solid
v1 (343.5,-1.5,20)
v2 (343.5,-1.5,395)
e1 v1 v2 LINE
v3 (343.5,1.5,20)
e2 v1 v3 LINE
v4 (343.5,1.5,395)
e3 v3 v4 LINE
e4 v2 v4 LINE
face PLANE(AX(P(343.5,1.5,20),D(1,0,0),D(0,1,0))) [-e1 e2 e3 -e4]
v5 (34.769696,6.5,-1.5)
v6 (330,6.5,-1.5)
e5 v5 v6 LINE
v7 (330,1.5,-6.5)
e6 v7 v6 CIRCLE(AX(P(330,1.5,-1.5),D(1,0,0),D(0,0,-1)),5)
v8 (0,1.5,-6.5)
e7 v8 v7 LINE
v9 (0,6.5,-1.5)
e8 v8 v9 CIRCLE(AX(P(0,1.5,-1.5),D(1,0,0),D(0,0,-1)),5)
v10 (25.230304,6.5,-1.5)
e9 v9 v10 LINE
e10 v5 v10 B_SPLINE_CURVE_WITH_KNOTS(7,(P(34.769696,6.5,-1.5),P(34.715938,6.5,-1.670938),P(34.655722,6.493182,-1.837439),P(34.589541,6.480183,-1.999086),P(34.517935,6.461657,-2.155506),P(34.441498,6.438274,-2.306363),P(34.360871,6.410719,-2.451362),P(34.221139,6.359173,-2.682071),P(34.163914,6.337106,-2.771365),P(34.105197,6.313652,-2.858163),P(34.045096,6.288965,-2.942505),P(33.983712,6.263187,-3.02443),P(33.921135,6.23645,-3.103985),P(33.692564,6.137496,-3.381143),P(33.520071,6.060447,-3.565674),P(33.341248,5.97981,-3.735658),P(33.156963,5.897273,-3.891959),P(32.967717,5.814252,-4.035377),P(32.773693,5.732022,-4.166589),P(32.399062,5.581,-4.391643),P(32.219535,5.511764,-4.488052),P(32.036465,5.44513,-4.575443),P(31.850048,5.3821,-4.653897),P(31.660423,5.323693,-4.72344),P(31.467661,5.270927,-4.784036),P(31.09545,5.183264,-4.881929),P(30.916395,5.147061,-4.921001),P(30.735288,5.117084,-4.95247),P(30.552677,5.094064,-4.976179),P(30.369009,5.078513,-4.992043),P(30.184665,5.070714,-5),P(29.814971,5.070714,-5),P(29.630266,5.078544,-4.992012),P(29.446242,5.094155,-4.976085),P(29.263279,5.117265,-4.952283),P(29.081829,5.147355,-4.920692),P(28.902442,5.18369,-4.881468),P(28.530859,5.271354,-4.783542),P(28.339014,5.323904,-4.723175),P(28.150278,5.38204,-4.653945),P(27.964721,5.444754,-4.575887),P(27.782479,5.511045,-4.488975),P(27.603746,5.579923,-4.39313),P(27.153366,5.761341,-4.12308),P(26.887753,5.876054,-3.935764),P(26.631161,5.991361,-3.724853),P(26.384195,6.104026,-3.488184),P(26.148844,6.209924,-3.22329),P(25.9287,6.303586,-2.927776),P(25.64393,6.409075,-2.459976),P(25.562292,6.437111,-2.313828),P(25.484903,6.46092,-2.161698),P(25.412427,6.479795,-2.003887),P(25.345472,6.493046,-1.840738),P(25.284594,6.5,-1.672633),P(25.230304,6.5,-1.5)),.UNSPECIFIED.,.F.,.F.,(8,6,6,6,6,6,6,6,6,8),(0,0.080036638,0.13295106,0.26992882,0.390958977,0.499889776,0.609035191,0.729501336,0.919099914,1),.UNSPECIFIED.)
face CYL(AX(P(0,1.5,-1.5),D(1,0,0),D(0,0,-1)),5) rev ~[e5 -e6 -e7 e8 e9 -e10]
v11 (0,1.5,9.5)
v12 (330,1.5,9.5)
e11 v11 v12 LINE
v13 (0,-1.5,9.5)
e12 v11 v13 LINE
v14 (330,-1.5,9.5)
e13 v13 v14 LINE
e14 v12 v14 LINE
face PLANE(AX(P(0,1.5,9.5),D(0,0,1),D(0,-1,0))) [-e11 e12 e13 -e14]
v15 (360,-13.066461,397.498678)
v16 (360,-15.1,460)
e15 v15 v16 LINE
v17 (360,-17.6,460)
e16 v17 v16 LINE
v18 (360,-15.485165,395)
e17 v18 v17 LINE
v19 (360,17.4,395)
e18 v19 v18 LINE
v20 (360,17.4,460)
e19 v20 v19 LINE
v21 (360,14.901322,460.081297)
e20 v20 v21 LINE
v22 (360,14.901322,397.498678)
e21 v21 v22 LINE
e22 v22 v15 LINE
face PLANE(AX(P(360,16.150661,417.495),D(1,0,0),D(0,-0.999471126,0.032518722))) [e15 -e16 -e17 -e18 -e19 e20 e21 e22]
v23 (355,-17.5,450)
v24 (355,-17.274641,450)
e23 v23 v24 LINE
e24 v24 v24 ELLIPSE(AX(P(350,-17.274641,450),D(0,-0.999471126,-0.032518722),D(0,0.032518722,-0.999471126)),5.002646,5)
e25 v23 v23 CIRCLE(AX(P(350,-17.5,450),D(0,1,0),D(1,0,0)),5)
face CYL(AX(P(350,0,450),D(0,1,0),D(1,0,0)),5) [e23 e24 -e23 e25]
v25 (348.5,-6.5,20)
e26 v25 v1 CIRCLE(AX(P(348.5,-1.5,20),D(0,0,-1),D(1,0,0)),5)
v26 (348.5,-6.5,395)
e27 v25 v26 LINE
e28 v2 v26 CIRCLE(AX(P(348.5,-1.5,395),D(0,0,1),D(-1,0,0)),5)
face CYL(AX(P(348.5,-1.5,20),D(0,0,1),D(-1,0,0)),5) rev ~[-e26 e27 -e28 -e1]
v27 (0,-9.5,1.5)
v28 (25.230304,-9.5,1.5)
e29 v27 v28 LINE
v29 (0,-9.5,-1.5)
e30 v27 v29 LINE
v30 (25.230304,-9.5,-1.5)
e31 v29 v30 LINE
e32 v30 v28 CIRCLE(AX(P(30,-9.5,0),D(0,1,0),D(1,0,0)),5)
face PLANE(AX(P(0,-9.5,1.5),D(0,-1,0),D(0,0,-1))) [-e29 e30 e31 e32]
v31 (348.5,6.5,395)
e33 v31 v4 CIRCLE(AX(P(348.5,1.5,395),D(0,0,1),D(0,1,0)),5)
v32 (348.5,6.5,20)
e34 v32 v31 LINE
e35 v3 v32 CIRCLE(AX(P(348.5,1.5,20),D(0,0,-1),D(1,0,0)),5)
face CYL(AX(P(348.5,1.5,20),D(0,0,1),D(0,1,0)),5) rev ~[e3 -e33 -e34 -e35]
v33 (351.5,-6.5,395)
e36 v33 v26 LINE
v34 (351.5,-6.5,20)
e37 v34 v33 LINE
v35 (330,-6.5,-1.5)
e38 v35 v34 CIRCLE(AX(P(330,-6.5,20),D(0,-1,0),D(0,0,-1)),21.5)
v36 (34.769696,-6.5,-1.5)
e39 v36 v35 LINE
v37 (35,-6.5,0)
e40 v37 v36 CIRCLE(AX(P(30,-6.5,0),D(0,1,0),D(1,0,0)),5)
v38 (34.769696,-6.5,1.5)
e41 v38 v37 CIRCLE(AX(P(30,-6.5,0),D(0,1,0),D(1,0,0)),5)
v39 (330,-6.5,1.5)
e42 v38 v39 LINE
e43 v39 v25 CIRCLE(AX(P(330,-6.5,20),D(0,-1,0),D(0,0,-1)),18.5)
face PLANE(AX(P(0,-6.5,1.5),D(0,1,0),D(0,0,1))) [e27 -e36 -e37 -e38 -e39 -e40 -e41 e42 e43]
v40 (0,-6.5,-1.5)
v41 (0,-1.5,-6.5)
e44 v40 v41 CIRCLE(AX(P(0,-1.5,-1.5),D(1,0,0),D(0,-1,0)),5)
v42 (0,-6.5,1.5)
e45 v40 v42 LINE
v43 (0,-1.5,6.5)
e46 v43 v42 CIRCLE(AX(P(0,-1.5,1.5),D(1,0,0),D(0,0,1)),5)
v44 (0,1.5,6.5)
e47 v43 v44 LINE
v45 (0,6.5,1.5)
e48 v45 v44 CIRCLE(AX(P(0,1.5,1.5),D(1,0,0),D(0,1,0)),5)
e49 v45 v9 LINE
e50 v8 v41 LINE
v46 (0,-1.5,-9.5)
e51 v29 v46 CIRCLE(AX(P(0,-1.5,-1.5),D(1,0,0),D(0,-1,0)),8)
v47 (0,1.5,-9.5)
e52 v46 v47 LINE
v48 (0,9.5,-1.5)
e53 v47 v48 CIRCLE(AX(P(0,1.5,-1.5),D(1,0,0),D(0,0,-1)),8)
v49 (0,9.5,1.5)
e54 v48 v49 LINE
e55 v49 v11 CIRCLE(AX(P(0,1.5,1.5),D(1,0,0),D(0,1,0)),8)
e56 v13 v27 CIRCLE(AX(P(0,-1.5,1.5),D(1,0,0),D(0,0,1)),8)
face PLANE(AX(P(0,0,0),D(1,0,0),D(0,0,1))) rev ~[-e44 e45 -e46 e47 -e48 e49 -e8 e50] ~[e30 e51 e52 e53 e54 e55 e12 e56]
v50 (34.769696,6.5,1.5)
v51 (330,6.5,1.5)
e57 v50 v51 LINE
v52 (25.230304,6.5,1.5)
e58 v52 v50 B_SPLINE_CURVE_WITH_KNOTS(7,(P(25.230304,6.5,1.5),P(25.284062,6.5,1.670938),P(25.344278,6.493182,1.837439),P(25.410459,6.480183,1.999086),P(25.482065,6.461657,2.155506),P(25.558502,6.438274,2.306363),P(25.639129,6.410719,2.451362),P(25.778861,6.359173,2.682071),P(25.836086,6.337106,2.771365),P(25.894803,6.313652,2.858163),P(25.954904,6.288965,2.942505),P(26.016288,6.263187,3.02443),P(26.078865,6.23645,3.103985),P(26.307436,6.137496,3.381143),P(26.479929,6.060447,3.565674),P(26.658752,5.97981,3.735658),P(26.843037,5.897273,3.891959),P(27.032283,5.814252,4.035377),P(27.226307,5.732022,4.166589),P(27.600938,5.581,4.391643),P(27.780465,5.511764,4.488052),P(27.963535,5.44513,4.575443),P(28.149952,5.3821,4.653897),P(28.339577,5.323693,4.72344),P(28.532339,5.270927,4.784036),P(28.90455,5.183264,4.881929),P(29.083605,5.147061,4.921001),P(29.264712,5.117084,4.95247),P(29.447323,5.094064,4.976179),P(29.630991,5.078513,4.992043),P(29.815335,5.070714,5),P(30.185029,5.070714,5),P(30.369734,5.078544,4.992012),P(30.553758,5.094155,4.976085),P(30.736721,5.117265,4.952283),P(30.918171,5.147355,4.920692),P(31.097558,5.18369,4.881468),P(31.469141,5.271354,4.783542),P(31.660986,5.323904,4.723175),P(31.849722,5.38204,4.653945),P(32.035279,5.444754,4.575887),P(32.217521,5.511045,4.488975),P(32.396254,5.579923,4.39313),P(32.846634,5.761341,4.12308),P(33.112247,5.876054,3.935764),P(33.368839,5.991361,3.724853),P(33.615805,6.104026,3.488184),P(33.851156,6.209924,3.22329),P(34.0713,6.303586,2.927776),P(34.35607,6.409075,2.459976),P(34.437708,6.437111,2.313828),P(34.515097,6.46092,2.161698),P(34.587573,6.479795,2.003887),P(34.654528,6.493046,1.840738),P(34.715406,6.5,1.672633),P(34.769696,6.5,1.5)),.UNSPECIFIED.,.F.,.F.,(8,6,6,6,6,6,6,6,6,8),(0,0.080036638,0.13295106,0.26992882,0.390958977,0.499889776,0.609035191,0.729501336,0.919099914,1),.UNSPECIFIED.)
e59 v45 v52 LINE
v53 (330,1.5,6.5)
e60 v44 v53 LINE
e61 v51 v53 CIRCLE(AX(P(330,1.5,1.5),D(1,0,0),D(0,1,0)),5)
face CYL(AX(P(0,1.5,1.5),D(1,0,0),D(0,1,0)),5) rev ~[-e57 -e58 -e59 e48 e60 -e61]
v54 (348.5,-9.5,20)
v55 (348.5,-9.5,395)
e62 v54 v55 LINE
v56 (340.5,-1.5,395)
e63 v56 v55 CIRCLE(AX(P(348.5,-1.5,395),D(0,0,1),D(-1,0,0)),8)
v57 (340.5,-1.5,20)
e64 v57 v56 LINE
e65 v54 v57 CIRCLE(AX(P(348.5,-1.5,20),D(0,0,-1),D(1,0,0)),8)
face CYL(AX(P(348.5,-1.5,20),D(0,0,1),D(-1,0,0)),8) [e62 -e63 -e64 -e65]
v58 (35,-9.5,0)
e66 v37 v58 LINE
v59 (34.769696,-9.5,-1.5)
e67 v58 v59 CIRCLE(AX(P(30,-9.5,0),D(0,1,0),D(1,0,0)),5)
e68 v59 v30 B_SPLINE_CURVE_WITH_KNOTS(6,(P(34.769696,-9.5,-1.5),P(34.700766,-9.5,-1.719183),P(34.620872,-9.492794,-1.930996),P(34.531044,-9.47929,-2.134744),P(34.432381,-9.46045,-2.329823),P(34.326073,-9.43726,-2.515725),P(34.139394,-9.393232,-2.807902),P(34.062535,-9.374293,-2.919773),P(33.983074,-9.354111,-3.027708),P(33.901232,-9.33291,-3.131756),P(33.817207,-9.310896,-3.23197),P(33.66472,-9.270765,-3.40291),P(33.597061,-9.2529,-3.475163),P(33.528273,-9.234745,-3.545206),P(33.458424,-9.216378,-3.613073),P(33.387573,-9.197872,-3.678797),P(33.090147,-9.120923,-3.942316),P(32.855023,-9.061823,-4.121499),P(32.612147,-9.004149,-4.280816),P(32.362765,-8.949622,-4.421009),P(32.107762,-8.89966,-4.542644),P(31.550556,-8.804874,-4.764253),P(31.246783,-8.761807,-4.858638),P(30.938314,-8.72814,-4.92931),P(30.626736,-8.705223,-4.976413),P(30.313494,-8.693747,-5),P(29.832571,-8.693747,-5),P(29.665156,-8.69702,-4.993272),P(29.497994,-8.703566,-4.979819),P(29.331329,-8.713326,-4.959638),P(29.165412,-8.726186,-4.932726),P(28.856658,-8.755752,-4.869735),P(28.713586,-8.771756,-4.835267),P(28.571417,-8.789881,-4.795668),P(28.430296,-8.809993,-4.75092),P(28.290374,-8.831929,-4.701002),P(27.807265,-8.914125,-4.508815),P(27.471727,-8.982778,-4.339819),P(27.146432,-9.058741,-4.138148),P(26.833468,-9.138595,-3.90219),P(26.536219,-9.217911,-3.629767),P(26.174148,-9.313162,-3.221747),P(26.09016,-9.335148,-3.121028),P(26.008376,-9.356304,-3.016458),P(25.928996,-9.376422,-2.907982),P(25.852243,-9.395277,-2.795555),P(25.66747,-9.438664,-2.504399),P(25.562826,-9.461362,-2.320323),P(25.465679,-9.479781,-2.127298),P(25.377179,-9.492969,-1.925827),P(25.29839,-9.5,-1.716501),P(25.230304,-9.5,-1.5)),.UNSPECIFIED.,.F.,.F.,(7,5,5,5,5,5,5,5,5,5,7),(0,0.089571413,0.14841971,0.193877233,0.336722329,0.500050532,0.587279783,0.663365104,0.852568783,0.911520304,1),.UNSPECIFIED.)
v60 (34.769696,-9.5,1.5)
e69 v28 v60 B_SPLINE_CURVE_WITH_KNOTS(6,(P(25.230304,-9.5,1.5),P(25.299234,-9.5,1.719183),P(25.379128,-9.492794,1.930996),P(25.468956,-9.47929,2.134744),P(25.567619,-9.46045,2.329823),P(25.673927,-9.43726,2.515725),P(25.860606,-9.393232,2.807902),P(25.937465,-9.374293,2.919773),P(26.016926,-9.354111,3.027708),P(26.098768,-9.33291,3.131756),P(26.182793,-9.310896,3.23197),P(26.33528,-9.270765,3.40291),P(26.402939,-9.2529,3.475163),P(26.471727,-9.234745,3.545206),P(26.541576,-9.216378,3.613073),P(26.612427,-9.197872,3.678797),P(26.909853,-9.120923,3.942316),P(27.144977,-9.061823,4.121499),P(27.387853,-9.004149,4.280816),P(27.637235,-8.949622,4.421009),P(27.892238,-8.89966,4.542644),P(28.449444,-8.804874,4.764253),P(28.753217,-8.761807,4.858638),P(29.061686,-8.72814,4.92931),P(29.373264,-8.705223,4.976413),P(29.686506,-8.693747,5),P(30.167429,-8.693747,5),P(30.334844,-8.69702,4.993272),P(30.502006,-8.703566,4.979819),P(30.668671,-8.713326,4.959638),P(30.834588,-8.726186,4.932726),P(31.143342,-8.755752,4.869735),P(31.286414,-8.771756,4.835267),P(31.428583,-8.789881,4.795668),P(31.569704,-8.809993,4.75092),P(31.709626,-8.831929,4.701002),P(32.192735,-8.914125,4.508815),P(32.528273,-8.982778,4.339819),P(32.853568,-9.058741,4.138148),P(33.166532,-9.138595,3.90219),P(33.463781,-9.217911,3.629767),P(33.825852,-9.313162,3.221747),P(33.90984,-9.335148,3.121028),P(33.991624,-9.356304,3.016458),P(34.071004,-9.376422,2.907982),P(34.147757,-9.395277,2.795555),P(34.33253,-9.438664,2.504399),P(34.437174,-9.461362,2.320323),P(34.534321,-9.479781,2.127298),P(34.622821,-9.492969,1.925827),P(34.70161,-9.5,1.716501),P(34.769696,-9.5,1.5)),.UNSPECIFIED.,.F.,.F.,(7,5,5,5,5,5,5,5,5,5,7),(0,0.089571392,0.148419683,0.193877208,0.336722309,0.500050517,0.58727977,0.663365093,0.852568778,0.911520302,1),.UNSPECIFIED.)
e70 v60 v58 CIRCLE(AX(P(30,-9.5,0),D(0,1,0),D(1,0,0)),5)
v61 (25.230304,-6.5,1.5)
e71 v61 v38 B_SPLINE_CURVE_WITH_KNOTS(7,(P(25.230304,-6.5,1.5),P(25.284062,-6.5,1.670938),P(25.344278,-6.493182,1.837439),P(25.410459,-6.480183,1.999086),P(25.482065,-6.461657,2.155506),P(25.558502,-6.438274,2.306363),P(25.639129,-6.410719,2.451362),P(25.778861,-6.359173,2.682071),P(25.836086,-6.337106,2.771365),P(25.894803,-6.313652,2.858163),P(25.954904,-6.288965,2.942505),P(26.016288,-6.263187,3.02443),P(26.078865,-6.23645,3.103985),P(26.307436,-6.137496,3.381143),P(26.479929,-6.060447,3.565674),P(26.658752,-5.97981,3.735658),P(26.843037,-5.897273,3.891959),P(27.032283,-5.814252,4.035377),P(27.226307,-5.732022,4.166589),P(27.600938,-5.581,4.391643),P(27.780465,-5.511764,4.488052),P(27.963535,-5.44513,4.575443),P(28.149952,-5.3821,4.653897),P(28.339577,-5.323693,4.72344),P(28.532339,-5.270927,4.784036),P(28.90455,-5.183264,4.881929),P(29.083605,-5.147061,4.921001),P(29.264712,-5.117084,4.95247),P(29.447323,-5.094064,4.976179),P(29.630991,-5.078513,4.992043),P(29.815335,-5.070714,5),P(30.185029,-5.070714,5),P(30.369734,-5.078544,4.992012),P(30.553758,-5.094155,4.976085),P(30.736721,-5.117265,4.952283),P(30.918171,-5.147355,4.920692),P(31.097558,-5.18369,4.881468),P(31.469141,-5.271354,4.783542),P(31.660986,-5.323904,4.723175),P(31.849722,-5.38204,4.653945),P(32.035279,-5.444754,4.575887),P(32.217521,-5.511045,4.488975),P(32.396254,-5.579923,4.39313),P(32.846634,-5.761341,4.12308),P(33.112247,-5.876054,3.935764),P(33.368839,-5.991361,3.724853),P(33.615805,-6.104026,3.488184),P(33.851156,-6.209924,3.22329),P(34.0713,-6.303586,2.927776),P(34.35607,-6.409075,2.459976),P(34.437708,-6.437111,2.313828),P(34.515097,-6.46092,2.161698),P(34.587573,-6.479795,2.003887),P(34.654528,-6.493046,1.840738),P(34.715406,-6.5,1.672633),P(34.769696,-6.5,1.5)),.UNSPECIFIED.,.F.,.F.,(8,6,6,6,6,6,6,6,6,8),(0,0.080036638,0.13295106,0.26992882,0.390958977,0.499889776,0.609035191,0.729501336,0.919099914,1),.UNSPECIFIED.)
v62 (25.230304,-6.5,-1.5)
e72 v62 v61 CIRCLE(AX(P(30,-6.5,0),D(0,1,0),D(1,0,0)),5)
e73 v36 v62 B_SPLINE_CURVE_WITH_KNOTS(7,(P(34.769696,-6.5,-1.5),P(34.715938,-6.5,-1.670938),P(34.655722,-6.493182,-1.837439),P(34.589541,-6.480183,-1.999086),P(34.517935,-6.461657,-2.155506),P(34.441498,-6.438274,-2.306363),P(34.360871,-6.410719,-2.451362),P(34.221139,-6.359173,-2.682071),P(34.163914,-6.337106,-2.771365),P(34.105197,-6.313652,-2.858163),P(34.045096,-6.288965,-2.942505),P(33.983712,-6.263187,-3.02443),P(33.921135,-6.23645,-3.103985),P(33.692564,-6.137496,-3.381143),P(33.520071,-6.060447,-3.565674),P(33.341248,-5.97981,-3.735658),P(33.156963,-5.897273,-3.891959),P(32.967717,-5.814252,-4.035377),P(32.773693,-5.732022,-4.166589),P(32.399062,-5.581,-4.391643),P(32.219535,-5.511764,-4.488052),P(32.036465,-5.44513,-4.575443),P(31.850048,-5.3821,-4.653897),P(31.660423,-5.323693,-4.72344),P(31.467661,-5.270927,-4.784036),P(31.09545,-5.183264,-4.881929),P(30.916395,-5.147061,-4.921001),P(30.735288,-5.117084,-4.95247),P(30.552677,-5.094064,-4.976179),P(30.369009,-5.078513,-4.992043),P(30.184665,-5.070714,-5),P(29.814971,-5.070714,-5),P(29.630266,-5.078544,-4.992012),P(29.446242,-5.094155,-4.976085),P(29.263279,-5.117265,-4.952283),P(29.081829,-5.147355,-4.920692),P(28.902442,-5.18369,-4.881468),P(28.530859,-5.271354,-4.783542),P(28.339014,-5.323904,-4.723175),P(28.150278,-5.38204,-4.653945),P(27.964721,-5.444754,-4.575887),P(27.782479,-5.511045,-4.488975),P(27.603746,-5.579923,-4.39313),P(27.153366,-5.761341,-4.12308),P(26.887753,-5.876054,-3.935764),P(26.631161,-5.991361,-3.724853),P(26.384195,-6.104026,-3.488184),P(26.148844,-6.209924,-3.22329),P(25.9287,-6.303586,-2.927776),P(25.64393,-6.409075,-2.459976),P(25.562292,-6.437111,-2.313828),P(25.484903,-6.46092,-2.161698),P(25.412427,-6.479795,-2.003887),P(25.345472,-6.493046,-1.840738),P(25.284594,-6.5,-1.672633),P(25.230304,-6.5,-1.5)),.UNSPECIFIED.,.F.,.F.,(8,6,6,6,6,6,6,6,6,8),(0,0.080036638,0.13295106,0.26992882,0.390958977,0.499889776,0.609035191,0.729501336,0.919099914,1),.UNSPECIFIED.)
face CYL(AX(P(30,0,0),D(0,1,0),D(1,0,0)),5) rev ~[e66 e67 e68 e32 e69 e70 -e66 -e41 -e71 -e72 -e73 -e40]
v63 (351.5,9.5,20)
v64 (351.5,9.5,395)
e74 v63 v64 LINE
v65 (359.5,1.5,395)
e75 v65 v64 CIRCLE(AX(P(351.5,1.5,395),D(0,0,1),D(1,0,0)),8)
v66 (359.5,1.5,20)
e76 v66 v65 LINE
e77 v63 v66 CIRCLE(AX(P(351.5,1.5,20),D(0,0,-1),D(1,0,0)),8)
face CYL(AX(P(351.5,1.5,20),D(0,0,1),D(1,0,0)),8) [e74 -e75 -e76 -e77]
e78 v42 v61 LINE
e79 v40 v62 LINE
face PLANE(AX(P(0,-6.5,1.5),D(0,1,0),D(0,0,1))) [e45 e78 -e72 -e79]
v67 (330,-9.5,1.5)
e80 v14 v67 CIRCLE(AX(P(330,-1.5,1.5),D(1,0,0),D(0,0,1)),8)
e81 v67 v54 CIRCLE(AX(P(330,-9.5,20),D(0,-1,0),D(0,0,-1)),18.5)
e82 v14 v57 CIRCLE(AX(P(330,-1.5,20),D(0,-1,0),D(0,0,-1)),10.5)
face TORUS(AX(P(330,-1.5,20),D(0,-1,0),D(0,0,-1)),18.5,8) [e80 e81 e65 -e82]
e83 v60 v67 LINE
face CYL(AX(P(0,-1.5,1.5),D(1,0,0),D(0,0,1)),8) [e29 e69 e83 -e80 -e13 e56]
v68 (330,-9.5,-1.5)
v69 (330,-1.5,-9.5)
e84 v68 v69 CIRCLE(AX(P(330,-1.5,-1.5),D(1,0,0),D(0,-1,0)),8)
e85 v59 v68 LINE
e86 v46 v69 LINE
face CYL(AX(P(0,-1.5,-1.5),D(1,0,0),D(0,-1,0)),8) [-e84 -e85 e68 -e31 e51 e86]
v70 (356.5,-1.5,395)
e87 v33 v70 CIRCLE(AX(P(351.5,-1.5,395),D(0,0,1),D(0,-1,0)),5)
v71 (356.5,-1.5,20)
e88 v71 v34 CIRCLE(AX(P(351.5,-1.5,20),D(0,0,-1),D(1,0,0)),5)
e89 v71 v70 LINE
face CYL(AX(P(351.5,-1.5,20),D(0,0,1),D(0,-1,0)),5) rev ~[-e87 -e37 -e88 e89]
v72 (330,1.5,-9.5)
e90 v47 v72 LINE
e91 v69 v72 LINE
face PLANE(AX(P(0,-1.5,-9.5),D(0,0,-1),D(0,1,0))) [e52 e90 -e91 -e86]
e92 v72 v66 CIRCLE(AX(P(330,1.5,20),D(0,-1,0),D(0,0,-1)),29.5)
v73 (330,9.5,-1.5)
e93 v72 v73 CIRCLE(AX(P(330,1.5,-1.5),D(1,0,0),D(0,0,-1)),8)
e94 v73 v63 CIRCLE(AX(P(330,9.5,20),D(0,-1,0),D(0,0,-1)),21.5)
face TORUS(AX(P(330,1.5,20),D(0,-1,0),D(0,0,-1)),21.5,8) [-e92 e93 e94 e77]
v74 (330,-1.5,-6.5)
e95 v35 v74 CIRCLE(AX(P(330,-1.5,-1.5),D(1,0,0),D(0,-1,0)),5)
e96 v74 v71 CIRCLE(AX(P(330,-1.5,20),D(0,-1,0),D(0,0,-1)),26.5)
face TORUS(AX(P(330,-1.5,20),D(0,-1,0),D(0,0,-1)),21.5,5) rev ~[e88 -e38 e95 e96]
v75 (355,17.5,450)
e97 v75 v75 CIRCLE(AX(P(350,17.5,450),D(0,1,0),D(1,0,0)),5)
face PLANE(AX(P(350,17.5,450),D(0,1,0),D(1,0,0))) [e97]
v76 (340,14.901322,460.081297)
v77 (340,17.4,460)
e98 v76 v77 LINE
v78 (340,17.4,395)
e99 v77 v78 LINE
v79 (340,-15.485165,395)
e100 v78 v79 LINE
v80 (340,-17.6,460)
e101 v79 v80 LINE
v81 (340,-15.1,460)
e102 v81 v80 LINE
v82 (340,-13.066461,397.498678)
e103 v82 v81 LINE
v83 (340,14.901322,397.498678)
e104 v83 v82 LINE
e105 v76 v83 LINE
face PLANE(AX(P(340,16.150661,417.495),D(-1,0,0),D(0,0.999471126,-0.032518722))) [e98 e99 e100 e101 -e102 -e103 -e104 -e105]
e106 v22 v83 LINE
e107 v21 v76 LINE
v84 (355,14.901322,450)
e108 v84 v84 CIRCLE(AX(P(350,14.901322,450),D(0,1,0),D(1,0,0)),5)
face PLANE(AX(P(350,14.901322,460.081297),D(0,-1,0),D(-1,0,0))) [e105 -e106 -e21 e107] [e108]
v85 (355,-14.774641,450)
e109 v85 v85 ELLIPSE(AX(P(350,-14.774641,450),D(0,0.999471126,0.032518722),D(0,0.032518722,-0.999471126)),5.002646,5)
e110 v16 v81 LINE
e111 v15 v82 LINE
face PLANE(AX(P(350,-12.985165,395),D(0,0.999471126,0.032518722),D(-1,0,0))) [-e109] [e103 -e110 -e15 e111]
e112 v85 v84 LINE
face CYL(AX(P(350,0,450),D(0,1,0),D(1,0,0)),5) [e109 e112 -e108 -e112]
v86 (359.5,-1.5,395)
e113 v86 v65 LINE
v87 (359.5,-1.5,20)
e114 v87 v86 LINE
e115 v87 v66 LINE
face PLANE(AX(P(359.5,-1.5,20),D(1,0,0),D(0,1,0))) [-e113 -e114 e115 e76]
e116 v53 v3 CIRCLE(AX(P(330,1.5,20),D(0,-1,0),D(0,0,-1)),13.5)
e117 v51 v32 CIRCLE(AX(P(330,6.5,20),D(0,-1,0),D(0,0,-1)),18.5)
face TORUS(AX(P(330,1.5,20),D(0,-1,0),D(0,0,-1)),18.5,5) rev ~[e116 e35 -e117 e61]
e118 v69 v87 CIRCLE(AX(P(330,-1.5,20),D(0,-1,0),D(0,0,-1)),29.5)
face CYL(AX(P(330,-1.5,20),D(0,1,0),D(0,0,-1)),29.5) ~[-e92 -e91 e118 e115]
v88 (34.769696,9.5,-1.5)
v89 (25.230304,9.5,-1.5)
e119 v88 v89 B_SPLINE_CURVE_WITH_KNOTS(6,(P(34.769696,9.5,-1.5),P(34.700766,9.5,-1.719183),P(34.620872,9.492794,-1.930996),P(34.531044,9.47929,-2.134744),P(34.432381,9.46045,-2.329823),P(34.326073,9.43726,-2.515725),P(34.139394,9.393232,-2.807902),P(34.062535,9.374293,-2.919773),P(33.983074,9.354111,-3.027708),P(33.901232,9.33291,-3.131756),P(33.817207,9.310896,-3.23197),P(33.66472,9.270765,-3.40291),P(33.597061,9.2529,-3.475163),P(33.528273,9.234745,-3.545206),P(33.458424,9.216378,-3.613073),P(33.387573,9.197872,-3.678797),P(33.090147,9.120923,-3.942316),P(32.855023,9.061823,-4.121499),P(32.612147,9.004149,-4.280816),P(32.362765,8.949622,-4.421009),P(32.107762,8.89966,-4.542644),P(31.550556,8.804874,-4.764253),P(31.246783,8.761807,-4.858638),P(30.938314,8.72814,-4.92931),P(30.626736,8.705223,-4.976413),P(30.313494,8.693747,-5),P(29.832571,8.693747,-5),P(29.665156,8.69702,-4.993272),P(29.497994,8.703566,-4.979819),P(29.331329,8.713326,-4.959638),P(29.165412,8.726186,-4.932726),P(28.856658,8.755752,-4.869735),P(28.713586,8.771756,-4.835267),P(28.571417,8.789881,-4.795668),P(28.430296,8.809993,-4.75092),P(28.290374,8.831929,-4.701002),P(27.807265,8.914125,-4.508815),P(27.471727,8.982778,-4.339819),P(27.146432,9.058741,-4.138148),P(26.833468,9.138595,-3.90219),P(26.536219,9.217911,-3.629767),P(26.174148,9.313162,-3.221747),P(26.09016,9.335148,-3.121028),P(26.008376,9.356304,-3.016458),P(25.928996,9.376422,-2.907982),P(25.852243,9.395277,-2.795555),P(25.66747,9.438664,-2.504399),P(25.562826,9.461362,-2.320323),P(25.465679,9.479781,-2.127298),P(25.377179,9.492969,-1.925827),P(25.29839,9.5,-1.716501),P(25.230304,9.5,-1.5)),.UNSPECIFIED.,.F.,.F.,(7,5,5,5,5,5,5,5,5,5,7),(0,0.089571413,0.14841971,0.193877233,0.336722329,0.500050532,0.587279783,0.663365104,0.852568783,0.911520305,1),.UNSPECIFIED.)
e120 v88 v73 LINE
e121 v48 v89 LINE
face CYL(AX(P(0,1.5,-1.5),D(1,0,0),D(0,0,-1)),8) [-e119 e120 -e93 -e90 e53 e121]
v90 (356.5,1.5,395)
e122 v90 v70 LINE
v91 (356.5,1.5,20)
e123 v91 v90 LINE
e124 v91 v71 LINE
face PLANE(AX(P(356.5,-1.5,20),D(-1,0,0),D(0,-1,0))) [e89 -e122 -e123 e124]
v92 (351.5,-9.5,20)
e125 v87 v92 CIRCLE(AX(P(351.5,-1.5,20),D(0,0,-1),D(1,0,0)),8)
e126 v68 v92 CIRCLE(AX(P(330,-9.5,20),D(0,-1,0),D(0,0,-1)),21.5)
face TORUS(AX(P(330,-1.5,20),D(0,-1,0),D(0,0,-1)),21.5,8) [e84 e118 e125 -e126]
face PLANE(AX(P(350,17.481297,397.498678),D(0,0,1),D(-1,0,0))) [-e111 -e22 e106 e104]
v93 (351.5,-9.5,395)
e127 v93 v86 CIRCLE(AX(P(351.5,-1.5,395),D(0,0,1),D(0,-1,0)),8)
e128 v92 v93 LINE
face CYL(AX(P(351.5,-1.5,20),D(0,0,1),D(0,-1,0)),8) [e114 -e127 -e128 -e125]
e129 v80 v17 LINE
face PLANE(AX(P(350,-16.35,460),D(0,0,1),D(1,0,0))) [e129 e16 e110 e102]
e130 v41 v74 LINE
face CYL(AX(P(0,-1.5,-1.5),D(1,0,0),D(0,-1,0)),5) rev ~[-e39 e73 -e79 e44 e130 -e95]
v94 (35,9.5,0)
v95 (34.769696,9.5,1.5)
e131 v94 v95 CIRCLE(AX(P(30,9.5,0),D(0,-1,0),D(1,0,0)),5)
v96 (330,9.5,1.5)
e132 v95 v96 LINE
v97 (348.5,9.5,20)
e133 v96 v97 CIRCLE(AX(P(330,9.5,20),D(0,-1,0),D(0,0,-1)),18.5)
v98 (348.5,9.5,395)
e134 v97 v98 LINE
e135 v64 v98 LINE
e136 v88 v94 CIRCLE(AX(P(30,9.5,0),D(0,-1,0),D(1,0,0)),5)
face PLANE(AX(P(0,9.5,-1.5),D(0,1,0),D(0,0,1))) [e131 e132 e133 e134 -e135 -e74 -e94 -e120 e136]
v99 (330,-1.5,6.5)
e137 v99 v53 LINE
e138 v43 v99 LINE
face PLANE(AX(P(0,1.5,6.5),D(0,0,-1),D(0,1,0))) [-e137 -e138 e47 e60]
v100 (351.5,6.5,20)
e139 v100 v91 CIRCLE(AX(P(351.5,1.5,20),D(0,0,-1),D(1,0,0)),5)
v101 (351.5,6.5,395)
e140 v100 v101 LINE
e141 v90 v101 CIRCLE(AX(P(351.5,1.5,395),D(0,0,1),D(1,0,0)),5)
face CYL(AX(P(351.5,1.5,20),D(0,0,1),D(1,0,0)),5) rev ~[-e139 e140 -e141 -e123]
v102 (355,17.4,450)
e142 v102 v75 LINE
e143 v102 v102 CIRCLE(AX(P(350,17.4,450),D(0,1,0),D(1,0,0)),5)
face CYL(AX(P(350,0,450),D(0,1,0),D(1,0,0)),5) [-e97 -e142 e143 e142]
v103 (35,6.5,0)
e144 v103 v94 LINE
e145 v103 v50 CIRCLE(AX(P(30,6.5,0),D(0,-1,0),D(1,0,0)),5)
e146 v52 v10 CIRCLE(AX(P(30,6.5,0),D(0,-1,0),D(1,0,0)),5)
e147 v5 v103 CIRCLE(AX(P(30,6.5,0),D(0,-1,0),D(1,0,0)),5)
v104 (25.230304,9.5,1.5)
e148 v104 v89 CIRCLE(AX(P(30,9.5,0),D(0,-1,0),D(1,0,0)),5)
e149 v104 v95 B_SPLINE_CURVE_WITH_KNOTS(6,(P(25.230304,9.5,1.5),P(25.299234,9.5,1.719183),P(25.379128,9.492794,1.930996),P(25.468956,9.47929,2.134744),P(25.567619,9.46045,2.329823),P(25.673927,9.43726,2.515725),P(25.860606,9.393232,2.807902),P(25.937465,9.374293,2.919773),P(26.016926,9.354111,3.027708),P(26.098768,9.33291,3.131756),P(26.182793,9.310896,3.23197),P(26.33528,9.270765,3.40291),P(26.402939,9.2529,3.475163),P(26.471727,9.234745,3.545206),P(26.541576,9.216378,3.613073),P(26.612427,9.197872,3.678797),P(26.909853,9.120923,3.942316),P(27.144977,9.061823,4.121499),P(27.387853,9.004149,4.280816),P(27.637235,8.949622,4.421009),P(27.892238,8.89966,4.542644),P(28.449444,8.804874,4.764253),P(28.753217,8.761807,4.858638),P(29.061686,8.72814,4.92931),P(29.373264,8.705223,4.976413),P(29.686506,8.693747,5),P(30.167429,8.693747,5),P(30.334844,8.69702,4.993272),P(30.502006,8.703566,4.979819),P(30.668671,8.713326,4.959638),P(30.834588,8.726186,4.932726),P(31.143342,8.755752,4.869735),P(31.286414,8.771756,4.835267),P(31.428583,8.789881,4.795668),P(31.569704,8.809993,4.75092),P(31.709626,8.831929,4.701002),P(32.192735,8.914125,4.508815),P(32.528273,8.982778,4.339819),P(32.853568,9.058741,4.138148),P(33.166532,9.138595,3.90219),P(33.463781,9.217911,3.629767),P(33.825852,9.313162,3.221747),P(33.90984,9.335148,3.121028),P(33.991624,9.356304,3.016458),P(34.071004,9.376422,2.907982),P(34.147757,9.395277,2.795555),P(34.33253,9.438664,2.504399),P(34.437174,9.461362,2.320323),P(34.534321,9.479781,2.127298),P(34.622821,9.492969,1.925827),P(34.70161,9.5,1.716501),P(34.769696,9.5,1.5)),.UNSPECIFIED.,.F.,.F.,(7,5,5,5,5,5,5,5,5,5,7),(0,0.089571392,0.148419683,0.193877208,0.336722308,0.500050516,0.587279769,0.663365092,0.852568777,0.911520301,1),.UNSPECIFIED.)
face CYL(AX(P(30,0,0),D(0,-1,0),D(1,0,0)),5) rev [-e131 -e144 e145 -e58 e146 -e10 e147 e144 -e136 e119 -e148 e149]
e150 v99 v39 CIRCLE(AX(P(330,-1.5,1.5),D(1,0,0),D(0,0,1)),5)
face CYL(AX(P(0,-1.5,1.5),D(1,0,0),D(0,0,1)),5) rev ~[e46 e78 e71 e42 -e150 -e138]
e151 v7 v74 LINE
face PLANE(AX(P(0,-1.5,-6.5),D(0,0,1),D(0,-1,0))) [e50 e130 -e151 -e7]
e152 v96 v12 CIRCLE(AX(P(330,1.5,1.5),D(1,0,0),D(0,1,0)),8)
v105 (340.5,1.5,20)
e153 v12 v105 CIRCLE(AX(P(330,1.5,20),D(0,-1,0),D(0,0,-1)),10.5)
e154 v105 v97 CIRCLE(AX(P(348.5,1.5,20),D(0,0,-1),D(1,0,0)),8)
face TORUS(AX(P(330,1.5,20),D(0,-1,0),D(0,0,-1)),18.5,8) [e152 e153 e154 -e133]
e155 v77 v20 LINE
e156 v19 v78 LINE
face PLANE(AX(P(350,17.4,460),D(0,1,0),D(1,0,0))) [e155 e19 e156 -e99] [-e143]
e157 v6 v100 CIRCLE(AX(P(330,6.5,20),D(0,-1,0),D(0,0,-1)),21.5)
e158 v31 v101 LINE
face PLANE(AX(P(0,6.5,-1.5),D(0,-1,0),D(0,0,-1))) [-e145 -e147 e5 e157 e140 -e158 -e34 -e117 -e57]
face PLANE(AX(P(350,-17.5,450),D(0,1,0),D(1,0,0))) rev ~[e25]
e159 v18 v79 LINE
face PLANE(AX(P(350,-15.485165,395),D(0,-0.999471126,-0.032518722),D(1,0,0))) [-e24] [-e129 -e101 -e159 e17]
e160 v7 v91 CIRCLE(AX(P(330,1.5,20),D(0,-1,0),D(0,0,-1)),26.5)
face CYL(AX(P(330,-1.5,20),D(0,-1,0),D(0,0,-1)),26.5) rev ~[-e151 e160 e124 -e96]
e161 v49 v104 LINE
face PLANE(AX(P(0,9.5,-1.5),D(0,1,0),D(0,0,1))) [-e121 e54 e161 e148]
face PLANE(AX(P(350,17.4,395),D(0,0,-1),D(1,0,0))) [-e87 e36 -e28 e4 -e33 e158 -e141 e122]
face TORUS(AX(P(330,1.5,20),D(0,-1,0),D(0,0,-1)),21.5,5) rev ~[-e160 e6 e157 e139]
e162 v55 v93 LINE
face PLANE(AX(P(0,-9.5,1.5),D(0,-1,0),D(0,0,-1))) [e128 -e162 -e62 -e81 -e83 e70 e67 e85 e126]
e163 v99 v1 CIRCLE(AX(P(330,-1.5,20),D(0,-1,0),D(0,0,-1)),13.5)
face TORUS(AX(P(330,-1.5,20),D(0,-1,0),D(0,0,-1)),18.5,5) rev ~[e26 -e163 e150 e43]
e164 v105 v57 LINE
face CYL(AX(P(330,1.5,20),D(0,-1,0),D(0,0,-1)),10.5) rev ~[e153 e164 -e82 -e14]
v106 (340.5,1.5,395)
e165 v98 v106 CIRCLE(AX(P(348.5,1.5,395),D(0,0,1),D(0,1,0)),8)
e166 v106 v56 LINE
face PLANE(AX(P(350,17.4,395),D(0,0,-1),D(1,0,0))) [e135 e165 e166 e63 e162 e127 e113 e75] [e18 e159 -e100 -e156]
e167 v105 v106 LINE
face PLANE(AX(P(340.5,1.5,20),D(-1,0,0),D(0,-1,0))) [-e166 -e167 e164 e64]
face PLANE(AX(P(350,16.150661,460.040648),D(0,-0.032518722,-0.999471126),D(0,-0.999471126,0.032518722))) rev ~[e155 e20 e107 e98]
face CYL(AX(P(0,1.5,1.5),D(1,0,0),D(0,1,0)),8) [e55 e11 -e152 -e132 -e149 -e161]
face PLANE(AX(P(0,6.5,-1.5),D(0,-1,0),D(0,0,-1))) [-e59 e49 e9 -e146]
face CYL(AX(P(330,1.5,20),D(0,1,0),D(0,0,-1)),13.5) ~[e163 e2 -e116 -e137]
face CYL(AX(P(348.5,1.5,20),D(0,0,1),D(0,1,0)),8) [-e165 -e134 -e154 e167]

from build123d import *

# Parameters (mm, degrees)
SKETCH4_R                = 5
BOSS_EXTRUDE2_DEPTH      = 17.5
BOSS_EXTRUDE2_DEPTH_BACK = 17.5
SKETCH7_W                = 20
SKETCH7_H                = 2.5
SKETCH8_R                = 5
CUT_EXTRUDE1_DEPTH       = 18.5
CUT_EXTRUDE1_DEPTH_BACK  = 18.6


with BuildPart() as part:
    # Sweep-Thin1: sweep along a path in Sketch1
    with BuildLine(Plane(origin=(0, 0, 0), x_dir=(1, 0, 0), z_dir=(0, 1, 0))) as sweep_thin1_path:
        Line((0, 0), (330, 0))
        ThreePointArc((330, 0), (344.142135624, -5.857864376), (350, -20))
        Line((350, -20), (350, -395))
    # Sketch2 → Sweep-Thin1 (sweep)
    with BuildSketch(Plane(origin=(0, 0, 0), x_dir=(0, 0, -1), z_dir=(1, 0, 0))):
        with BuildLine():
            Line((1.5, 9.5), (-1.5, 9.5))
            ThreePointArc((-1.5, 9.5), (-7.156854249, 7.156854249), (-9.5, 1.5))
            Line((-9.5, 1.5), (-9.5, -1.5))
            ThreePointArc((-9.5, -1.5), (-7.156854249, -7.156854249), (-1.5, -9.5))
            Line((-1.5, -9.5), (1.5, -9.5))
            ThreePointArc((1.5, -9.5), (7.156854249, -7.156854249), (9.5, -1.5))
            Line((9.5, -1.5), (9.5, 1.5))
            ThreePointArc((9.5, 1.5), (7.156854249, 7.156854249), (1.5, 9.5))
        make_face()
        with BuildLine():
            Line((1.5, 6.5), (-1.5, 6.5))
            ThreePointArc((-1.5, 6.5), (-5.035533906, 5.035533906), (-6.5, 1.5))
            Line((-6.5, 1.5), (-6.5, -1.5))
            ThreePointArc((-6.5, -1.5), (-5.035533906, -5.035533906), (-1.5, -6.5))
            Line((-1.5, -6.5), (1.5, -6.5))
            ThreePointArc((1.5, -6.5), (5.035533906, -5.035533906), (6.5, -1.5))
            Line((6.5, -1.5), (6.5, 1.5))
            ThreePointArc((6.5, 1.5), (5.035533906, 5.035533906), (1.5, 6.5))
        make_face(mode=Mode.SUBTRACT)
    sweep(path=sweep_thin1_path.line)



with BuildPart() as body_2:
    # Sketch4 → Boss-Extrude2 (new body, two sides)
    with BuildSketch(Plane(origin=(0, 0, 0), x_dir=(1, 0, 0), z_dir=(0, 1, 0))) as boss_extrude2_sk:
        with Locations((350, -450)):
            Circle(SKETCH4_R)
    extrude(amount=BOSS_EXTRUDE2_DEPTH)
    extrude(boss_extrude2_sk.sketch, amount=-BOSS_EXTRUDE2_DEPTH_BACK)


with BuildPart() as part_1:
    add(part.part)

    add(body_2.part)  # Sweep1 merges body 2
    # Sweep1: sweep along a path in Sketch6
    with BuildLine(Plane(origin=(350, 0, 0), x_dir=(0, 0, -1), z_dir=(1, 0, 0))) as sweep1_path:
        Line((-460, 17.4), (-395, 17.4))
        Line((-395, 17.4), (-395, 0))
        Line((-395, 0), (-395, -15.485164569))
        Line((-395, -15.485164569), (-460, -17.6))
    # Sketch7 → Sweep1 (sweep)
    with BuildSketch(Plane.XY.offset(460)):
        with Locations((350, -16.35)):
            Rectangle(SKETCH7_W, SKETCH7_H)
    sweep(path=sweep1_path.line, transition=Transition.RIGHT)

    # Sketch8 → Cut-Extrude1 (cut, two sides)
    with BuildSketch(Plane(origin=(0, 0, 0), x_dir=(1, 0, 0), z_dir=(0, 1, 0))) as cut_extrude1_sk:
        with Locations((30, 0)):
            Circle(SKETCH8_R)
    extrude(amount=CUT_EXTRUDE1_DEPTH, mode=Mode.SUBTRACT)
    extrude(cut_extrude1_sk.sketch, amount=-CUT_EXTRUDE1_DEPTH_BACK, mode=Mode.SUBTRACT)


solid = part_1.part
